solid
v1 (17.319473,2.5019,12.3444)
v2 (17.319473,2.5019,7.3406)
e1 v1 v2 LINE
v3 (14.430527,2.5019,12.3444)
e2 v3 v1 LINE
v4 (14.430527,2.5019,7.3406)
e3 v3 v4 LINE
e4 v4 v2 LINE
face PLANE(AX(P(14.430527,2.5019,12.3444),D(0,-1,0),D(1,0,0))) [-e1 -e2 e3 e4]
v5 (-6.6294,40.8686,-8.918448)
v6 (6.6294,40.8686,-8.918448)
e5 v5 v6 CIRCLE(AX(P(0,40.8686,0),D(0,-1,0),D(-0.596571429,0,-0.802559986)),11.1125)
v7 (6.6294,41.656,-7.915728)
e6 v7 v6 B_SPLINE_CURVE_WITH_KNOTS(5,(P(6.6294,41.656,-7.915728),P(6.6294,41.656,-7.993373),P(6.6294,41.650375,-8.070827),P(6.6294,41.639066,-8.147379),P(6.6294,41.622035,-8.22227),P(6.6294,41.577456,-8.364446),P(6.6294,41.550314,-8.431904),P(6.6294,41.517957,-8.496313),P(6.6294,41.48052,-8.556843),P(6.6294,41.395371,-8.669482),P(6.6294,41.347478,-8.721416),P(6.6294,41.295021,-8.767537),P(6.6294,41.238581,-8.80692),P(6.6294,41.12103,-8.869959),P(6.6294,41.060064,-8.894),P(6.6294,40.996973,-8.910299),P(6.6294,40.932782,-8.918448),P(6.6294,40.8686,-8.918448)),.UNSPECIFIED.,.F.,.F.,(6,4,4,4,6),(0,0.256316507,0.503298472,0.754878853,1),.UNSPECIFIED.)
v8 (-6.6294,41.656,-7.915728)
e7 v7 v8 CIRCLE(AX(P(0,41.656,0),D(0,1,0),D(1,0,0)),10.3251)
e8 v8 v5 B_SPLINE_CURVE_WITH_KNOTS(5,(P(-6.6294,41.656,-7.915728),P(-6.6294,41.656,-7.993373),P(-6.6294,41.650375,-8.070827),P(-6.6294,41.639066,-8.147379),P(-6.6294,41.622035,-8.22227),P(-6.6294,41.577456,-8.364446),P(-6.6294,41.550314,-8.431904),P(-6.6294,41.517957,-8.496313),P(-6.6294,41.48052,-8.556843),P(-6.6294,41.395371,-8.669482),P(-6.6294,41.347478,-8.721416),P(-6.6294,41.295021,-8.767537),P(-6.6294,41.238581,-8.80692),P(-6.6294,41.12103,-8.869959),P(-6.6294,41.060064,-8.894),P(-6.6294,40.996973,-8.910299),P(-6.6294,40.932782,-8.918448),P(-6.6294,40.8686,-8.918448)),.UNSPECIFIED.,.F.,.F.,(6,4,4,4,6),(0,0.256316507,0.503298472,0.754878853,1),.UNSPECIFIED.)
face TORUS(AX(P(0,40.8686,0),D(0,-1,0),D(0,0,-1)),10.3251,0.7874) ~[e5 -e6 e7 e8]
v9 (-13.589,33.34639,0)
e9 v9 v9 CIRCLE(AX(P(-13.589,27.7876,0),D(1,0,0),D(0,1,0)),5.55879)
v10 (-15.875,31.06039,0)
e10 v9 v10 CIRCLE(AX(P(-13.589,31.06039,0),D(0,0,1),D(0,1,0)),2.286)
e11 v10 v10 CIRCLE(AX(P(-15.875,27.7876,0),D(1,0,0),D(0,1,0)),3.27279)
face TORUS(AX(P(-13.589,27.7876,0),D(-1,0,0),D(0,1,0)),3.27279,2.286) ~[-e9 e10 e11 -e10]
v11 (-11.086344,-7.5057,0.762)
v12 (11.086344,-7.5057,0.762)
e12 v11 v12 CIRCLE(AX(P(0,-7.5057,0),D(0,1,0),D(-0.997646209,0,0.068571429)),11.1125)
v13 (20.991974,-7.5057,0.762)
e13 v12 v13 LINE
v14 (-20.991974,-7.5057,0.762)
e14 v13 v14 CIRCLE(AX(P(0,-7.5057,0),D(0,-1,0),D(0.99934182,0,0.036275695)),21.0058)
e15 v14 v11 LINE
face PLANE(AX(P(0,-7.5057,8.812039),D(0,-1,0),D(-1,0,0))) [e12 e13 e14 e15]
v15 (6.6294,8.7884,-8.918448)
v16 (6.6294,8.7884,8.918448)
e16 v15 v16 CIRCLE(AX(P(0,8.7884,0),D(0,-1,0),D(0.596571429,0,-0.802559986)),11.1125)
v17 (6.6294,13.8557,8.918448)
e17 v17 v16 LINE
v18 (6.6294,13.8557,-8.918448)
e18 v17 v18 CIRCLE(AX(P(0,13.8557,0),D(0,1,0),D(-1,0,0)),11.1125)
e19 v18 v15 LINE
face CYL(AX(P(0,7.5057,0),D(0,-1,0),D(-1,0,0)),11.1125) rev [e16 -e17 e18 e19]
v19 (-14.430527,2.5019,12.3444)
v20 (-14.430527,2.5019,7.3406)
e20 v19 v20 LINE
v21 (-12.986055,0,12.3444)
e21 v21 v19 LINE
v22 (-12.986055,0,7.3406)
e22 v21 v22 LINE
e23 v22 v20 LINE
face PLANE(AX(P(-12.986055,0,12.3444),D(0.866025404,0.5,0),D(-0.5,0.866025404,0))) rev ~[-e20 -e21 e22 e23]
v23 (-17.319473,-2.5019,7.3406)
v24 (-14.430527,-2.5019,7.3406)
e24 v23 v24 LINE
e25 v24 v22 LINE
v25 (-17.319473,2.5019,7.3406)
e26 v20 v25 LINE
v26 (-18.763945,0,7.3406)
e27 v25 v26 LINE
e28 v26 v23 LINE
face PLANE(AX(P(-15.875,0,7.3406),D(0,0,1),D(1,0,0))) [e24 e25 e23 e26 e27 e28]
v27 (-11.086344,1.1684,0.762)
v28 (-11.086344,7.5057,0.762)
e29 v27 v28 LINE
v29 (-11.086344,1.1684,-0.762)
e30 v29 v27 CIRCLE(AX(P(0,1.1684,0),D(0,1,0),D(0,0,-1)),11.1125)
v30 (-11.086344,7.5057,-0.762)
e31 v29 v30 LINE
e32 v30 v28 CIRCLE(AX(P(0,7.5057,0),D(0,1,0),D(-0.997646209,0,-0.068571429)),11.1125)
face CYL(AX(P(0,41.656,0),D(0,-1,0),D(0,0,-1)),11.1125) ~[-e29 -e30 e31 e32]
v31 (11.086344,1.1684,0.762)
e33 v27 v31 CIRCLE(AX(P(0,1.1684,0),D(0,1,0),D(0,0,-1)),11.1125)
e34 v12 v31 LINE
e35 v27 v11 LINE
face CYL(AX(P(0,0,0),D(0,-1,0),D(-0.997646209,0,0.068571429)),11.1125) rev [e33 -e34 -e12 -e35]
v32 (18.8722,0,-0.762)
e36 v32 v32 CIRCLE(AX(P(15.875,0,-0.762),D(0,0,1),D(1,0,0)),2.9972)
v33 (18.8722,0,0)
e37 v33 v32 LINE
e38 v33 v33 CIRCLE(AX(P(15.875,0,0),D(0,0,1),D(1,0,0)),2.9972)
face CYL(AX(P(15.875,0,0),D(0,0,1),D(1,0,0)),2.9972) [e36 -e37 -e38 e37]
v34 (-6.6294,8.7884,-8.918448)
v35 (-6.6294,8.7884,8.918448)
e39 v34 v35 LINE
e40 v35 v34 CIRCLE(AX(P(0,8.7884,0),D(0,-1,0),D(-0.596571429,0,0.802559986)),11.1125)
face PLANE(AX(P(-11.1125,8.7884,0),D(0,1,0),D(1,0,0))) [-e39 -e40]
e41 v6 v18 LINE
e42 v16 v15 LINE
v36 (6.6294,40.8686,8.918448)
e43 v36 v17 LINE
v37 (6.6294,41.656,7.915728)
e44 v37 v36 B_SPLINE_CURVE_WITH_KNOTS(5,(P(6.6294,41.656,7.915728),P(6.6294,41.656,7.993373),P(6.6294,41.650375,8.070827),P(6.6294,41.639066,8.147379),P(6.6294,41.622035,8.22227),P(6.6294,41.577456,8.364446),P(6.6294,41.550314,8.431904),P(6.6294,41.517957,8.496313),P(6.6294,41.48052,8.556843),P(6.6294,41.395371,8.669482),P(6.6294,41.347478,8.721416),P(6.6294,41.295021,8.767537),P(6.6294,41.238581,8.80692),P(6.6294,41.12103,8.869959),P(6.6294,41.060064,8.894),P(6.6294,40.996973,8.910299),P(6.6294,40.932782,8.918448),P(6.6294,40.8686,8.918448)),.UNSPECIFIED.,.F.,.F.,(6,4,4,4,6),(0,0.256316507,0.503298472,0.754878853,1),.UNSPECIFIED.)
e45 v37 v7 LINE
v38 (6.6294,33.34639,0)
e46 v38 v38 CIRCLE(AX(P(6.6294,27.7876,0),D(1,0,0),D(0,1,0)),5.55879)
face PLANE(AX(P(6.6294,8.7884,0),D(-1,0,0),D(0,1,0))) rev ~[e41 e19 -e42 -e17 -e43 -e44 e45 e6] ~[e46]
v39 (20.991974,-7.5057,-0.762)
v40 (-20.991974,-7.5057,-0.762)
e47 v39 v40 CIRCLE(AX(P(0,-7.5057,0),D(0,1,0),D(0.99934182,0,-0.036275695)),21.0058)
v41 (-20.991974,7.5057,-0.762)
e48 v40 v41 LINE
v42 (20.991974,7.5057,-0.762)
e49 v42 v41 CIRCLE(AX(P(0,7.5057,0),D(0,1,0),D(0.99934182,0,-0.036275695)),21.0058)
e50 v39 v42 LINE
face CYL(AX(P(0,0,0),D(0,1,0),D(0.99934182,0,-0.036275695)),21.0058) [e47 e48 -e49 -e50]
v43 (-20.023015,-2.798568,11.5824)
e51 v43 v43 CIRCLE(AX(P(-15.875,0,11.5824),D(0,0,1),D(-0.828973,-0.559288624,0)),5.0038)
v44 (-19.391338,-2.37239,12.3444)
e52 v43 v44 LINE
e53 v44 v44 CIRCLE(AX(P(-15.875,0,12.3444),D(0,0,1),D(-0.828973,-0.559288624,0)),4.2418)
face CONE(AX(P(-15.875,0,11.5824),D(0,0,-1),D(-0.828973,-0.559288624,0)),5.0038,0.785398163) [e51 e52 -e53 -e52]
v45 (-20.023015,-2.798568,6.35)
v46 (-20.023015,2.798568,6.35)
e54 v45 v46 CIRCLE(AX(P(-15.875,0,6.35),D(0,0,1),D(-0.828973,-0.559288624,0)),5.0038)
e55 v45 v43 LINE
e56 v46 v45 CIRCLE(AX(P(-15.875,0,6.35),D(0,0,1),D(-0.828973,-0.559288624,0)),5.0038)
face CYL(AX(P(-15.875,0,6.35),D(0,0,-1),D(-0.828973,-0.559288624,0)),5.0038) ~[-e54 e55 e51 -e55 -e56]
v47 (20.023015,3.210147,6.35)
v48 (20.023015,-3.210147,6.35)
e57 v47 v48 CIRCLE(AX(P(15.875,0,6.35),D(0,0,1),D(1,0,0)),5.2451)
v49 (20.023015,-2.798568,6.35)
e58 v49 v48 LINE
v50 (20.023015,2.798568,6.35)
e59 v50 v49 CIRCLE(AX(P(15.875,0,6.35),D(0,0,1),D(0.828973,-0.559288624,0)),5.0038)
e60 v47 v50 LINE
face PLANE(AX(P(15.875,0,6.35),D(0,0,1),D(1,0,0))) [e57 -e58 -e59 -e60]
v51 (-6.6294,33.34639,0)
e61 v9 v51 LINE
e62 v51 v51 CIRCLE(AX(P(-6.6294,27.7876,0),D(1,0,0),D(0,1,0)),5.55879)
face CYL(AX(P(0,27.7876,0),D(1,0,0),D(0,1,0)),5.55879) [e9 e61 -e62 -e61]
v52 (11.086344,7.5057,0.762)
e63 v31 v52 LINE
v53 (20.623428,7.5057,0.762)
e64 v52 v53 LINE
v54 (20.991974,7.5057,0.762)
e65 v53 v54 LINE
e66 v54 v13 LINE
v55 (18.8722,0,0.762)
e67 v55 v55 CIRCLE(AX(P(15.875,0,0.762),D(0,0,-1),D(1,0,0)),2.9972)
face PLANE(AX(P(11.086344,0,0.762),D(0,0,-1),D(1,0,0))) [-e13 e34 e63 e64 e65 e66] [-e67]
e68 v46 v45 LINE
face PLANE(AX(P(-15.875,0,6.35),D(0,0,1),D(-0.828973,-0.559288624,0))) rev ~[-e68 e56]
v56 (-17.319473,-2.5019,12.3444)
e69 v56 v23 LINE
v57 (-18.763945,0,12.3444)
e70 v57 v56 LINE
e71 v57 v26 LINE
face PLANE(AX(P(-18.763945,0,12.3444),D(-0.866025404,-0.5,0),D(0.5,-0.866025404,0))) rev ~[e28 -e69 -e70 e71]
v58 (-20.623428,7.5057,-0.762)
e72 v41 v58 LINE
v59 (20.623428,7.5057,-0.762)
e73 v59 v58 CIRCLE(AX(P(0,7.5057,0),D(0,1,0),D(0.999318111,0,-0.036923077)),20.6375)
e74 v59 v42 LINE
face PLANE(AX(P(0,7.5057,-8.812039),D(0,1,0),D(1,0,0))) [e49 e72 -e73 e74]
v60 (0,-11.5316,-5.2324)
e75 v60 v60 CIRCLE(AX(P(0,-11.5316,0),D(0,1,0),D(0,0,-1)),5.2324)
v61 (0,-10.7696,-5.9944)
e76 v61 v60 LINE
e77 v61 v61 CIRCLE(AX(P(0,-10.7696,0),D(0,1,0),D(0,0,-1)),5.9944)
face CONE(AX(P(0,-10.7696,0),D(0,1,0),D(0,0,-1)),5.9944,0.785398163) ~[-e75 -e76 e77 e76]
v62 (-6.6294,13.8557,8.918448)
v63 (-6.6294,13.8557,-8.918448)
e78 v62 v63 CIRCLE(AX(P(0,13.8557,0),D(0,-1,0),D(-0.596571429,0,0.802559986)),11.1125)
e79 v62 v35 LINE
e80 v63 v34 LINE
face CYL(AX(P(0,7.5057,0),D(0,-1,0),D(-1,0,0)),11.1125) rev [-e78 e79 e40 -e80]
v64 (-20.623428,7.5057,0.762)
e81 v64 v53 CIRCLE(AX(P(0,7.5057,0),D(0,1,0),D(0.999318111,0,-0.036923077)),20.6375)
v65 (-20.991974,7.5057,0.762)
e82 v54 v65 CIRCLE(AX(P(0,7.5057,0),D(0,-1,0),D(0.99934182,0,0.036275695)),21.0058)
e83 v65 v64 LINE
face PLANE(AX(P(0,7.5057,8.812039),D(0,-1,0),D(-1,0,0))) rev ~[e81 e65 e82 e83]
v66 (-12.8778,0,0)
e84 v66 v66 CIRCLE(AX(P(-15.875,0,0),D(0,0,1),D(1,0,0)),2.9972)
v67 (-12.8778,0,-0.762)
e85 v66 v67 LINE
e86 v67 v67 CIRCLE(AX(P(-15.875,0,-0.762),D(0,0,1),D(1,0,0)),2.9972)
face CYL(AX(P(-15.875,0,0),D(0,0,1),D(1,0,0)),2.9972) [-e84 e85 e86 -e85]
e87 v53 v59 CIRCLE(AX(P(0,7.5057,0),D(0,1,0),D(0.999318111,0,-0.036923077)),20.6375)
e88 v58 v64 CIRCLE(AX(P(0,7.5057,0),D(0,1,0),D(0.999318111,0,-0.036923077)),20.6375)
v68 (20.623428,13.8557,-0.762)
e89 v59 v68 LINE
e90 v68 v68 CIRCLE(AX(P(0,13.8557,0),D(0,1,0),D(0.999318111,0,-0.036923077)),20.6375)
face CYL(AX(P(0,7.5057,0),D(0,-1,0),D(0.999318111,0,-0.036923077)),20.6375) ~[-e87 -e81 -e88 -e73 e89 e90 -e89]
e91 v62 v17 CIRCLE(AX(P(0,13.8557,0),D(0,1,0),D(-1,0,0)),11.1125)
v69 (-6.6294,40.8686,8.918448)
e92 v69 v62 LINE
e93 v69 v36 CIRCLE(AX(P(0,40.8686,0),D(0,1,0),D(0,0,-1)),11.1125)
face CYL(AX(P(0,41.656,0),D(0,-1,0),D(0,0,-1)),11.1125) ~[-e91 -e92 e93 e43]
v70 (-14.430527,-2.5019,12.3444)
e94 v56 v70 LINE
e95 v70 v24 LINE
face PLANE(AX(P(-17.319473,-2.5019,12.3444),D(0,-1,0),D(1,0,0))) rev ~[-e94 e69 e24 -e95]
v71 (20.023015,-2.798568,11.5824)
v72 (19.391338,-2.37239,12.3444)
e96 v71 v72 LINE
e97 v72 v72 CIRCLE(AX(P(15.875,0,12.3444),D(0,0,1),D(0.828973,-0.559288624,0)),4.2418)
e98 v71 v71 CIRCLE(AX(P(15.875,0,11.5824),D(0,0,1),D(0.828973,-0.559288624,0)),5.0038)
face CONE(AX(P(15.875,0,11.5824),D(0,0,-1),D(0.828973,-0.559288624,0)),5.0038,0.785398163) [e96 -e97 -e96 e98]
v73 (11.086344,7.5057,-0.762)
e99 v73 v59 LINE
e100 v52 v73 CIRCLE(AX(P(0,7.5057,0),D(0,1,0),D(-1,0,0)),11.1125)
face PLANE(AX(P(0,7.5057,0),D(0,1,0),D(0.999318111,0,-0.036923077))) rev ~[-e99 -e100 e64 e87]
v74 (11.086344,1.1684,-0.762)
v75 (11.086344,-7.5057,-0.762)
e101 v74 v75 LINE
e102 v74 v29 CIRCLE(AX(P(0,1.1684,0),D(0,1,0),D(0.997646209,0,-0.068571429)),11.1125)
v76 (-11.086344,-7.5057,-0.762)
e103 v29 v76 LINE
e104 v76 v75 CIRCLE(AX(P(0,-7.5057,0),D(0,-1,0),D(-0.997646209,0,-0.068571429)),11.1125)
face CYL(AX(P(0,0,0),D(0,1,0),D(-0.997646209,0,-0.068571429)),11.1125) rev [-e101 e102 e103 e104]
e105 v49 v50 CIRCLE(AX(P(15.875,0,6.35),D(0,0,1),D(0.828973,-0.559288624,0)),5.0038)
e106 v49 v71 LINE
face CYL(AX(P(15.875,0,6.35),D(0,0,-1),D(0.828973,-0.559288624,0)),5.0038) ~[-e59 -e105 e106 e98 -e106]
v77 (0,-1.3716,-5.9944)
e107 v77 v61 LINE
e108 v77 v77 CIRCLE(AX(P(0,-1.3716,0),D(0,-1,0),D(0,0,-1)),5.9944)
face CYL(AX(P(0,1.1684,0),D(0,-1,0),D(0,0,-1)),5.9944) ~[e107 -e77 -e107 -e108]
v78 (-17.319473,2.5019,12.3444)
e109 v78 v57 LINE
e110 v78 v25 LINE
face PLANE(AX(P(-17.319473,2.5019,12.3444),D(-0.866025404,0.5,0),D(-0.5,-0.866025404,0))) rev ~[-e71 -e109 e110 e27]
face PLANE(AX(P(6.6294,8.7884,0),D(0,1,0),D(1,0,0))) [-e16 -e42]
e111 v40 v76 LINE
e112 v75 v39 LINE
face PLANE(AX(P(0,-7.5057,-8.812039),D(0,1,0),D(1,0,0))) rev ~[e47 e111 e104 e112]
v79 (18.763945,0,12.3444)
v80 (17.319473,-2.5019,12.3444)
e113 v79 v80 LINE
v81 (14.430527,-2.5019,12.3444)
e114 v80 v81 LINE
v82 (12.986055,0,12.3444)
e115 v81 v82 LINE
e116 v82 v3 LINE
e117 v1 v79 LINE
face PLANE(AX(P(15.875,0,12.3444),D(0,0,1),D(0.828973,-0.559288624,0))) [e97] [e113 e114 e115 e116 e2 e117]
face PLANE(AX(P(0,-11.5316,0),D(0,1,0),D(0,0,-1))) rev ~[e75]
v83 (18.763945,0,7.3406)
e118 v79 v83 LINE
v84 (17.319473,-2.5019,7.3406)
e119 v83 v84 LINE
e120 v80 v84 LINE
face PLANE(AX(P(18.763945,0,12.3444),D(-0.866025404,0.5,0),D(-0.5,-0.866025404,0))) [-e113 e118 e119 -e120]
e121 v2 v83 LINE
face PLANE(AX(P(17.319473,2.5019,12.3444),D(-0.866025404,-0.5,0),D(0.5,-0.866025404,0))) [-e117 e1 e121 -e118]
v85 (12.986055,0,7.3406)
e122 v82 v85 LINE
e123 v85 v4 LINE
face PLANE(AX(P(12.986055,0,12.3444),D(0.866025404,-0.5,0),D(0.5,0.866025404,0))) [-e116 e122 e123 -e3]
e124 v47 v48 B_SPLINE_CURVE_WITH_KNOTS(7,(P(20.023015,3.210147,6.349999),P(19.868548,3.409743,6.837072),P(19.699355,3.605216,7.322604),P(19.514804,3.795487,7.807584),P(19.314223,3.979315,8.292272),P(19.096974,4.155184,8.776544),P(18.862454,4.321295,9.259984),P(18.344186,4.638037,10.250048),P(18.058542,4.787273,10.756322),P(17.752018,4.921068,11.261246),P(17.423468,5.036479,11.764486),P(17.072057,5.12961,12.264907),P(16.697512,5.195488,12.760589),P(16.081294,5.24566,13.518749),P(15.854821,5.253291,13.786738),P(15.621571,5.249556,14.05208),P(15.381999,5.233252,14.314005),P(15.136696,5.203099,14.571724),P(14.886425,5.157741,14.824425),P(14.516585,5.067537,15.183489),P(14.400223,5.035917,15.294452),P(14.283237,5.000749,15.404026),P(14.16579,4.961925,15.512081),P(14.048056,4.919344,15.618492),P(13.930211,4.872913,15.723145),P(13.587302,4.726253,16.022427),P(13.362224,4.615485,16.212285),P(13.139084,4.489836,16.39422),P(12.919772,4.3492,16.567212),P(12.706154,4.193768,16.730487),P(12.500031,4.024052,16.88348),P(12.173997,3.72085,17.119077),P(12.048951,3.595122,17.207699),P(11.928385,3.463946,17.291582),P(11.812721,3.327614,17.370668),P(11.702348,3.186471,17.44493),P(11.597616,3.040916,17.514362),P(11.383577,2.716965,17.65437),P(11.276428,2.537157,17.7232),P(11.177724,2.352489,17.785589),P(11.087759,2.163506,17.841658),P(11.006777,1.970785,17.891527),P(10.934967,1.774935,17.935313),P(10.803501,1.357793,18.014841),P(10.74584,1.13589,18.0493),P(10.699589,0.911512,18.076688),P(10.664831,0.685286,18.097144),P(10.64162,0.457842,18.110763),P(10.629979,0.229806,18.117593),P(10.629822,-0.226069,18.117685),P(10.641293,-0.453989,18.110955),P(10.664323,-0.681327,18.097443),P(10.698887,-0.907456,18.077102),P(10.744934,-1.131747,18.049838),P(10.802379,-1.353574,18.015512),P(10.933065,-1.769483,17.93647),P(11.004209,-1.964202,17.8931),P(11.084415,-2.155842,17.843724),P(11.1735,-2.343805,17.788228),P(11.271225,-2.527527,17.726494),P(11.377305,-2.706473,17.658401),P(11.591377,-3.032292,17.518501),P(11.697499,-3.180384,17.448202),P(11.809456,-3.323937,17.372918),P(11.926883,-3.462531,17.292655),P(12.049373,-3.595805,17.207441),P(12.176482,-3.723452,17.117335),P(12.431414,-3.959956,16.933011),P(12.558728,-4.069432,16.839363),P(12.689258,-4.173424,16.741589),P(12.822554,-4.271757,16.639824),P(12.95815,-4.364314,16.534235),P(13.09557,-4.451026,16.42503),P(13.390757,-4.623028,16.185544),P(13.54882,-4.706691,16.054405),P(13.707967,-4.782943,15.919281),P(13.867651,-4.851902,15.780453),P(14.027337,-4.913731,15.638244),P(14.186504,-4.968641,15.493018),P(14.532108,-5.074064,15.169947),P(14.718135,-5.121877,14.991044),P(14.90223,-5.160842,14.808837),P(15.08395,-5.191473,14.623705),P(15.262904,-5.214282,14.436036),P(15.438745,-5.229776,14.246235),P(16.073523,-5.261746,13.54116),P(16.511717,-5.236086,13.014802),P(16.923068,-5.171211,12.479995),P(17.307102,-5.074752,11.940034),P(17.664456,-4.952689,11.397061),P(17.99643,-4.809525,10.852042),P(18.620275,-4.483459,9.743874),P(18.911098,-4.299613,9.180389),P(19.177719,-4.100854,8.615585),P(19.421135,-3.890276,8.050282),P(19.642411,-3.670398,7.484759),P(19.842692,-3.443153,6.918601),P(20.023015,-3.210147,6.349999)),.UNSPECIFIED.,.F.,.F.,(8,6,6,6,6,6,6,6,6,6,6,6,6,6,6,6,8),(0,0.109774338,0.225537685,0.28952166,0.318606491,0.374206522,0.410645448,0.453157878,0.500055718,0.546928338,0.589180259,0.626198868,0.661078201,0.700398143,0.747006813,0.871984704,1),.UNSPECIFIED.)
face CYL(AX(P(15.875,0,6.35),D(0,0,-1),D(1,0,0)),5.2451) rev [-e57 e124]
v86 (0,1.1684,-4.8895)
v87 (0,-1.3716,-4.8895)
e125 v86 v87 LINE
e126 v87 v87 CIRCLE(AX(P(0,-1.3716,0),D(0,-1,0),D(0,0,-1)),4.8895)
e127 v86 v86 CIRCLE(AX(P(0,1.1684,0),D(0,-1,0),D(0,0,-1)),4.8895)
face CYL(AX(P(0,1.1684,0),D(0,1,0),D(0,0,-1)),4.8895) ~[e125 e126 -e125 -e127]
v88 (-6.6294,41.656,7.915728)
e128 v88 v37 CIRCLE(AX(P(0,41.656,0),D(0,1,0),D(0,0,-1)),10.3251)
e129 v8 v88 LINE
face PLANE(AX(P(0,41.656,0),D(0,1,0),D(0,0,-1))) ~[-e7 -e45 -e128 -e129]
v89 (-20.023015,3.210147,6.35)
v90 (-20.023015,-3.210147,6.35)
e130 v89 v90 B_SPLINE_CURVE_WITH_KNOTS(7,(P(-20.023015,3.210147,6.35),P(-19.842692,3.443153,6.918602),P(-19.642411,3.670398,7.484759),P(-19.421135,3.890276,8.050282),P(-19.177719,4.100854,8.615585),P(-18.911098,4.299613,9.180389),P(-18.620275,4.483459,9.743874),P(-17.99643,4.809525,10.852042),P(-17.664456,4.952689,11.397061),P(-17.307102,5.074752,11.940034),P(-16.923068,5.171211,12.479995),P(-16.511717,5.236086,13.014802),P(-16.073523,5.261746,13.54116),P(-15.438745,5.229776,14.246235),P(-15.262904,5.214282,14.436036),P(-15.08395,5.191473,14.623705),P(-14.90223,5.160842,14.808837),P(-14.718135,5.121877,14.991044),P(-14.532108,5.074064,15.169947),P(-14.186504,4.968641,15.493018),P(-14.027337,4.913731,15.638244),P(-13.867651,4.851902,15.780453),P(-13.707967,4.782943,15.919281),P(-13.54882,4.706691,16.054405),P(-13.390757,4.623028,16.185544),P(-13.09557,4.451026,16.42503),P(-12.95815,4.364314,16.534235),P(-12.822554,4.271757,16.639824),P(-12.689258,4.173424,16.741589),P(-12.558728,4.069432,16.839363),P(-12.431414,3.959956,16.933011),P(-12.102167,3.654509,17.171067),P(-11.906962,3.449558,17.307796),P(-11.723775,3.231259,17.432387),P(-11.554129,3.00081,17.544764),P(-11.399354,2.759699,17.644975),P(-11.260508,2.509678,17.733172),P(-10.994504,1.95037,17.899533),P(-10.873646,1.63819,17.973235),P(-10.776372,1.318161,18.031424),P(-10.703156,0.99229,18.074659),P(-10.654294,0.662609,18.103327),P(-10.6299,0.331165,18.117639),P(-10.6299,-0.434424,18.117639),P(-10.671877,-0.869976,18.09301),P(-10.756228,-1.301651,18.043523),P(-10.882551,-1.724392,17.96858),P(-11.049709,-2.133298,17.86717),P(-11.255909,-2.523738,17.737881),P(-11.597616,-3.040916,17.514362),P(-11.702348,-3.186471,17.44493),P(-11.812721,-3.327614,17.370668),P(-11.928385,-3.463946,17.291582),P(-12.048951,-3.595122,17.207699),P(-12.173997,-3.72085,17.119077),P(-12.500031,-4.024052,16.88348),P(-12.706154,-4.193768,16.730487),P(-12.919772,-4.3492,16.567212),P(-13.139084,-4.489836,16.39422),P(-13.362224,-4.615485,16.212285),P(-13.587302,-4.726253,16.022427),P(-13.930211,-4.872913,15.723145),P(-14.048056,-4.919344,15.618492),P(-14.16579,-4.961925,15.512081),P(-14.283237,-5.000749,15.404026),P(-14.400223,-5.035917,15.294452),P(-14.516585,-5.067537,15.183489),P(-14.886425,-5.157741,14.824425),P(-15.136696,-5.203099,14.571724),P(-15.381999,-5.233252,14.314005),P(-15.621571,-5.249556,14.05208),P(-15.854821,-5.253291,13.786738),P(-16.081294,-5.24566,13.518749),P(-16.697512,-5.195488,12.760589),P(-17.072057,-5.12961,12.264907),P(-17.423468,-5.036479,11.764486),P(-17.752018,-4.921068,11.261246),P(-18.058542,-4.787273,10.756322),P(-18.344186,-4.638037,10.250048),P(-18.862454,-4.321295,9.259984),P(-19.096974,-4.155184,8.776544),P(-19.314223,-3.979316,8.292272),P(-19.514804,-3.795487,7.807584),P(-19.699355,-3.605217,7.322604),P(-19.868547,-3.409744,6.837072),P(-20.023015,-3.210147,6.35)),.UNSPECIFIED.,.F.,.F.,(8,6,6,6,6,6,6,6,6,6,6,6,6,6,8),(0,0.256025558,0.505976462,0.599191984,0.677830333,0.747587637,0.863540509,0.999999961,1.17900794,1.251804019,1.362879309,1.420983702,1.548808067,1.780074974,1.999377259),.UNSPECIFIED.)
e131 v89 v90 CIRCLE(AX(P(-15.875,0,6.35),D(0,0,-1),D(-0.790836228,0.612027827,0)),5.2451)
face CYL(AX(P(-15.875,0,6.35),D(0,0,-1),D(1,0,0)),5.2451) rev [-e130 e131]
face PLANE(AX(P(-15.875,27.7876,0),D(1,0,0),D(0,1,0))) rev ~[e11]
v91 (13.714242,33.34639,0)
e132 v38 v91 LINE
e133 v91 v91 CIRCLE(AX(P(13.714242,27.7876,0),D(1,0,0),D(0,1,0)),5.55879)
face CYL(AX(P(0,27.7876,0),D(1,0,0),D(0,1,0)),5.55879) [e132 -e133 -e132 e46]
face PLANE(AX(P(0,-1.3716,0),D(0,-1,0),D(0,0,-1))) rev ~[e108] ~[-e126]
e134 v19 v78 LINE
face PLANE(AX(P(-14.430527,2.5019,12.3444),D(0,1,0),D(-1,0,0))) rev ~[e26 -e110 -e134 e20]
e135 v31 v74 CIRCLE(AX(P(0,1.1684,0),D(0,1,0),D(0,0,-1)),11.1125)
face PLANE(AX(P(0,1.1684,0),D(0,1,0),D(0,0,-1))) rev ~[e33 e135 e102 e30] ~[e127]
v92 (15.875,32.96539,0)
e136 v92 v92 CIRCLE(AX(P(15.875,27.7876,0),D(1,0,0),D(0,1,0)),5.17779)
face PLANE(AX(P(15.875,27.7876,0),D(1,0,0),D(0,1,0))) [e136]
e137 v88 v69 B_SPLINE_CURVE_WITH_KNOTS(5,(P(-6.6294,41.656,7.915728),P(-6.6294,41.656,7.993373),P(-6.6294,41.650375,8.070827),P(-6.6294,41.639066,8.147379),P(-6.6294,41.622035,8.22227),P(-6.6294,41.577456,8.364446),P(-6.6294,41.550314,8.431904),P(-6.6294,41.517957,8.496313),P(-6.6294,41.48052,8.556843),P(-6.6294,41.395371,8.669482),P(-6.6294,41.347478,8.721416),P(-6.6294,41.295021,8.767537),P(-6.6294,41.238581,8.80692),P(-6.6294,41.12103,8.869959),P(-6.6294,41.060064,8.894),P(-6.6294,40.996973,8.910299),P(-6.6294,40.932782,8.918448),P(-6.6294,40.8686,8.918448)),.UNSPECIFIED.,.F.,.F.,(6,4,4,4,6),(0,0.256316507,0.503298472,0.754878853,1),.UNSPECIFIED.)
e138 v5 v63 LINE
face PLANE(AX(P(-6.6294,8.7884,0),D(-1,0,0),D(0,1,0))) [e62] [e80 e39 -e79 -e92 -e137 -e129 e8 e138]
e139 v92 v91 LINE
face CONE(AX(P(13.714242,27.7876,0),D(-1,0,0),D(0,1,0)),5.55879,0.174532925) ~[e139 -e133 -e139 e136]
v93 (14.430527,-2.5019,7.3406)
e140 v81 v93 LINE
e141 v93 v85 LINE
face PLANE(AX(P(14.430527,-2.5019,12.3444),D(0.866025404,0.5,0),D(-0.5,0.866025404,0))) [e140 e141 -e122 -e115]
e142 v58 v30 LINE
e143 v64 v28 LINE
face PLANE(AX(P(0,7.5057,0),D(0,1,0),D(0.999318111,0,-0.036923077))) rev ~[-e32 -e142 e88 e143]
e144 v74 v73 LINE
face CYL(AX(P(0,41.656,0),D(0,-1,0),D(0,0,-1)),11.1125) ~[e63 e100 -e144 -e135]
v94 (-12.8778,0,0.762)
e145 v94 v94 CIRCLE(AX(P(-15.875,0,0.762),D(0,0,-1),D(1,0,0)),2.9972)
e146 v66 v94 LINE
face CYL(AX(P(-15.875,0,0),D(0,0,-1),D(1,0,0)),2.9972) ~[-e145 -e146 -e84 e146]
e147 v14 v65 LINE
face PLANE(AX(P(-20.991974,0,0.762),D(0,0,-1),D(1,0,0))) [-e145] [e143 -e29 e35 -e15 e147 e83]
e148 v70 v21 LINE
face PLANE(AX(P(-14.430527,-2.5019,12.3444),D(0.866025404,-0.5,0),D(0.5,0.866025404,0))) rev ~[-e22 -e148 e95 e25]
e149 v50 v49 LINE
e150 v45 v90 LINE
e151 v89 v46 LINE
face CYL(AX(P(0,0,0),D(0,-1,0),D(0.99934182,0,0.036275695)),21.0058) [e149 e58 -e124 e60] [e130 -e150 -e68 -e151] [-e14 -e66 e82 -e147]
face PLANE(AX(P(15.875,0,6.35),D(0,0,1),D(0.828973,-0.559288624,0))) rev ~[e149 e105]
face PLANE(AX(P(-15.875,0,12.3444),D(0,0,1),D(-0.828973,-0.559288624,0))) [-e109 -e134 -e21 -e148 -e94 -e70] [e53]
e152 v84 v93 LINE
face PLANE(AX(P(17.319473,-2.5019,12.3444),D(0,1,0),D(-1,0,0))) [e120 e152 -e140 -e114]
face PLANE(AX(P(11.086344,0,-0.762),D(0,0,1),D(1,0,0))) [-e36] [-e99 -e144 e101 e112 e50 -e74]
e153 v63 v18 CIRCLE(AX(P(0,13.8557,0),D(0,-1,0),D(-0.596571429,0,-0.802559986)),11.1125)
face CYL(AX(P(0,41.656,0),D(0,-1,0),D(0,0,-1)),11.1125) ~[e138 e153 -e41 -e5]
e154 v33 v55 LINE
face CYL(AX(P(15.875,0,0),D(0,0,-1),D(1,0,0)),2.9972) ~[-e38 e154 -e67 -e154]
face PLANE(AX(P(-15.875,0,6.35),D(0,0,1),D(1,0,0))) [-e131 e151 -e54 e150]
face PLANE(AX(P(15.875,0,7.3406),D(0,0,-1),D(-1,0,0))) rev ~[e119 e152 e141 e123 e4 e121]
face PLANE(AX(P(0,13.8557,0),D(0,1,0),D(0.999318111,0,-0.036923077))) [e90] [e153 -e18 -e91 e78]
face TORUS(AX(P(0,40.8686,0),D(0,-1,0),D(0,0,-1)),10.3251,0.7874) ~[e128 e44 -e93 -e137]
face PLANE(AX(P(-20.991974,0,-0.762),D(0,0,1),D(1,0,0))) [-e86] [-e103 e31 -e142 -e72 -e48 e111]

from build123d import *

# Parameters (mm, degrees)
FILLET1_R                  = 0.7874
SKETCH2_W                  = 4.4831
SKETCH2_H                  = 32.8676
CUT_EXTRUDE1_DEPTH         = 12.1125
CUT_EXTRUDE1_DEPTH_BACK    = 12.1125
SKETCH3_R                  = 5.9944
SKETCH3_R_2                = 4.8895
CUT_EXTRUDE2_DEPTH         = 2.54
CHAMFER1_SIZE              = 0.762
SKETCH4_R                  = 5.55879
EXTRUDE1_DEPTH             = 15.875
CHAMFER2_SIZE              = 0.381
CHAMFER2_SIZE2             = 2.160758373
FILLET2_R                  = 2.286
EXTRUDE2_DEPTH             = 7.5057
EXTRUDE2_DEPTH_BACK        = 7.5057
CUT_EXTRUDE3_START         = 5.588
SKETCH6_R                  = 5.2451
CUT_EXTRUDE3_DEPTH         = 15.6558
SKETCH7_R                  = 5.0038
EXTRUDE3_DEPTH             = 5.9944
CHAMFER3_SIZE              = 0.762
CUT_EXTRUDE4_DEPTH         = 5.0038
EXTRUDE4_REACH             = 23.006
SKETCH10_R                 = 2.9972
EXTRUDE4_DIRECTION_2_REACH = 23.006
SKETCH11_R                 = 20.6375
SKETCH11_R_2               = 11.1125
EXTRUDE5_DEPTH             = 6.35


with BuildPart() as part:
    # Sketch1 → Revolve1 (revolve)
    with BuildSketch(Plane(origin=(0, 0, 0), x_dir=(0, 0, -1), z_dir=(1, 0, 0))):
        Polygon((0, 41.656), (11.1125, 41.656), (11.1125, 1.1684), (5.9944, 1.1684), (5.9944, -11.5316), (0, -11.5316), align=None)
    revolve(axis=Axis((0, -15.35938, 0), (0, 1, 0)))

    # Fillet1
    fillet1_edges = [part.edges().sort_by_distance(p)[0] for p in [
        (0, 41.656, 11.1125),
    ]]
    fillet(fillet1_edges, radius=FILLET1_R)

    # Sketch2 → Cut-Extrude1 (cut, two sides)
    with BuildSketch(Plane.XY) as cut_extrude1_sk:
        with Locations((8.87095, 25.2222)):
            Rectangle(SKETCH2_W, SKETCH2_H)
        with Locations((-8.87095, 25.2222)):
            Rectangle(SKETCH2_W, SKETCH2_H)
    extrude(amount=CUT_EXTRUDE1_DEPTH, mode=Mode.SUBTRACT)
    extrude(cut_extrude1_sk.sketch, amount=-CUT_EXTRUDE1_DEPTH_BACK, mode=Mode.SUBTRACT)

    # Sketch3 → Cut-Extrude2 (cut)
    with BuildSketch(Plane.XZ.offset(-1.1684)):
        with Locations(Location((0, 0, 0), (0, 0, 270))):  # turned: the seam where the file's is
            Circle(SKETCH3_R)
        with Locations(Location((0, 0, 0), (0, 0, 270))):  # turned: the seam where the file's is
            Circle(SKETCH3_R_2, mode=Mode.SUBTRACT)
    extrude(amount=CUT_EXTRUDE2_DEPTH, mode=Mode.SUBTRACT)

    # Chamfer1
    chamfer1_edges = [part.edges().sort_by_distance(p)[0] for p in [
        (0, -11.5316, 5.9944),
    ]]
    chamfer(chamfer1_edges, length=CHAMFER1_SIZE)

    # Sketch4 → Extrude1 (add, symmetric)
    with BuildSketch(Plane(origin=(0, 0, 0), x_dir=(0, 0, -1), z_dir=(1, 0, 0))):
        with Locations(Location((0, 27.7876, 0), (0, 0, 90))):  # turned: the seam where the file's is
            Circle(SKETCH4_R)
    extrude(amount=EXTRUDE1_DEPTH, both=True)

    # Chamfer2
    chamfer2_edges = [part.edges().sort_by_distance(p)[0] for p in [
        (15.875, 22.22881, 0),
    ]]
    chamfer2_side = [part.faces().sort_by_distance(p)[0] for p in [
        (15.875, 27.7876, 0),
    ]]
    chamfer(chamfer2_edges, length=CHAMFER2_SIZE, length2=CHAMFER2_SIZE2, reference=chamfer2_side[0])

    # Fillet2
    fillet2_edges = [part.edges().sort_by_distance(p)[0] for p in [
        (-15.875, 22.22881, 0),
    ]]
    fillet(fillet2_edges, radius=FILLET2_R)

    # Sketch5 → Extrude2 (add, two sides)
    with BuildSketch(Plane(origin=(0, 0, 0), x_dir=(1, 0, 0), z_dir=(0, 1, 0))) as extrude2_sk:
        with BuildLine():
            Line((11.086343502, 0.762), (20.99197441, 0.762))
            ThreePointArc((20.99197441, 0.762), (0, 21.0058), (-20.99197441, 0.762))
            Line((-20.99197441, 0.762), (-11.086343502, 0.762))
            ThreePointArc((-11.086343502, 0.762), (0, 11.1125), (11.086343502, 0.762))
        make_face()
        with BuildLine():
            Line((11.086343502, -0.762), (20.99197441, -0.762))
            ThreePointArc((20.99197441, -0.762), (0, -21.0058), (-20.99197441, -0.762))
            Line((-20.99197441, -0.762), (-11.086343502, -0.762))
            ThreePointArc((-11.086343502, -0.762), (0, -11.1125), (11.086343502, -0.762))
        make_face()
    extrude(amount=EXTRUDE2_DEPTH)
    extrude(extrude2_sk.sketch, amount=-EXTRUDE2_DEPTH_BACK)

    # Sketch6 → Cut-Extrude3 (cut, through all)
    with BuildSketch(Plane.XY.offset(0.762).offset(CUT_EXTRUDE3_START)):
        with Locations((15.875, 0)):
            Circle(SKETCH6_R)
        with Locations((-15.875, 0)):
            Circle(SKETCH6_R)
    extrude(amount=CUT_EXTRUDE3_DEPTH, mode=Mode.SUBTRACT)

    # Sketch7 → Extrude3 (add)
    with BuildSketch(Plane.XY.offset(6.35)):
        with Locations(Location((15.875, 0, 0), (0, 0, 325.993384386))):  # turned: the seam where the file's is
            Circle(SKETCH7_R)
        with Locations(Location((-15.875, 0, 0), (0, 0, 214.006615614))):  # turned: the seam where the file's is
            Circle(SKETCH7_R)
    extrude(amount=EXTRUDE3_DEPTH)

    # Chamfer3
    chamfer3_edges = [part.edges().sort_by_distance(p)[0] for p in [
        (11.726984901, 2.798568416, 12.3444),
        (-11.726984901, 2.798568416, 12.3444),
    ]]
    chamfer(chamfer3_edges, length=CHAMFER3_SIZE)

    # Sketch8 → Cut-Extrude4 (cut)
    with BuildSketch(Plane.XY.offset(12.3444)):
        Polygon((17.319472638, 2.5019), (18.763945277, 0), (17.319472638, -2.5019), (14.430527362, -2.5019), (12.986054723, 0), (14.430527362, 2.5019), align=None)
        Polygon((-18.763945277, 0), (-17.319472638, -2.5019), (-14.430527362, -2.5019), (-12.986054723, 0), (-14.430527362, 2.5019), (-17.319472638, 2.5019), align=None)
    extrude(amount=-CUT_EXTRUDE4_DEPTH, mode=Mode.SUBTRACT)

    # Sketch10 → Extrude4 (add, up to next)
    with BuildSketch(Plane.XY, mode=Mode.PRIVATE) as extrude4_sk1:
        with Locations((15.875, 0)):
            Circle(SKETCH10_R)
    extrude4_tool1 = extrude(extrude4_sk1.sketch, amount=EXTRUDE4_REACH, mode=Mode.PRIVATE) - part.part
    add(extrude4_tool1.solids().sort_by_distance((15.875, 0, 0))[0])
    # Sketch10 → Extrude4 (add, up to next)
    with BuildSketch(Plane.XY, mode=Mode.PRIVATE) as extrude4_sk2:
        with Locations((-15.875, 0)):
            Circle(SKETCH10_R)
    extrude4_tool2 = extrude(extrude4_sk2.sketch, amount=EXTRUDE4_REACH, mode=Mode.PRIVATE) - part.part
    add(extrude4_tool2.solids().sort_by_distance((-15.875, 0, 0))[0])

    # Sketch10 → Extrude4 direction 2 (add, up to next)
    with BuildSketch(Plane.XY, mode=Mode.PRIVATE) as extrude4_direction_2_sk1:
        with Locations((15.875, 0)):
            Circle(SKETCH10_R)
    extrude4_direction_2_tool1 = extrude(extrude4_direction_2_sk1.sketch, amount=-EXTRUDE4_DIRECTION_2_REACH, mode=Mode.PRIVATE) - part.part
    add(extrude4_direction_2_tool1.solids().sort_by_distance((15.875, 0, 0))[0])
    # Sketch10 → Extrude4 direction 2 (add, up to next)
    with BuildSketch(Plane.XY, mode=Mode.PRIVATE) as extrude4_direction_2_sk2:
        with Locations((-15.875, 0)):
            Circle(SKETCH10_R)
    extrude4_direction_2_tool2 = extrude(extrude4_direction_2_sk2.sketch, amount=-EXTRUDE4_DIRECTION_2_REACH, mode=Mode.PRIVATE) - part.part
    add(extrude4_direction_2_tool2.solids().sort_by_distance((-15.875, 0, 0))[0])

    # Sketch11 → Extrude5 (add)
    with BuildSketch(Plane(origin=(0, 7.5057, 0), x_dir=(-1, 0, 0), z_dir=(0, 1, 0))):
        with Locations(Location((0, 0, 0), (0, 0, 182.116017459))):  # turned: the seam where the file's is
            Circle(SKETCH11_R)
        Circle(SKETCH11_R_2, mode=Mode.SUBTRACT)
    extrude(amount=EXTRUDE5_DEPTH)


solid = part.part
